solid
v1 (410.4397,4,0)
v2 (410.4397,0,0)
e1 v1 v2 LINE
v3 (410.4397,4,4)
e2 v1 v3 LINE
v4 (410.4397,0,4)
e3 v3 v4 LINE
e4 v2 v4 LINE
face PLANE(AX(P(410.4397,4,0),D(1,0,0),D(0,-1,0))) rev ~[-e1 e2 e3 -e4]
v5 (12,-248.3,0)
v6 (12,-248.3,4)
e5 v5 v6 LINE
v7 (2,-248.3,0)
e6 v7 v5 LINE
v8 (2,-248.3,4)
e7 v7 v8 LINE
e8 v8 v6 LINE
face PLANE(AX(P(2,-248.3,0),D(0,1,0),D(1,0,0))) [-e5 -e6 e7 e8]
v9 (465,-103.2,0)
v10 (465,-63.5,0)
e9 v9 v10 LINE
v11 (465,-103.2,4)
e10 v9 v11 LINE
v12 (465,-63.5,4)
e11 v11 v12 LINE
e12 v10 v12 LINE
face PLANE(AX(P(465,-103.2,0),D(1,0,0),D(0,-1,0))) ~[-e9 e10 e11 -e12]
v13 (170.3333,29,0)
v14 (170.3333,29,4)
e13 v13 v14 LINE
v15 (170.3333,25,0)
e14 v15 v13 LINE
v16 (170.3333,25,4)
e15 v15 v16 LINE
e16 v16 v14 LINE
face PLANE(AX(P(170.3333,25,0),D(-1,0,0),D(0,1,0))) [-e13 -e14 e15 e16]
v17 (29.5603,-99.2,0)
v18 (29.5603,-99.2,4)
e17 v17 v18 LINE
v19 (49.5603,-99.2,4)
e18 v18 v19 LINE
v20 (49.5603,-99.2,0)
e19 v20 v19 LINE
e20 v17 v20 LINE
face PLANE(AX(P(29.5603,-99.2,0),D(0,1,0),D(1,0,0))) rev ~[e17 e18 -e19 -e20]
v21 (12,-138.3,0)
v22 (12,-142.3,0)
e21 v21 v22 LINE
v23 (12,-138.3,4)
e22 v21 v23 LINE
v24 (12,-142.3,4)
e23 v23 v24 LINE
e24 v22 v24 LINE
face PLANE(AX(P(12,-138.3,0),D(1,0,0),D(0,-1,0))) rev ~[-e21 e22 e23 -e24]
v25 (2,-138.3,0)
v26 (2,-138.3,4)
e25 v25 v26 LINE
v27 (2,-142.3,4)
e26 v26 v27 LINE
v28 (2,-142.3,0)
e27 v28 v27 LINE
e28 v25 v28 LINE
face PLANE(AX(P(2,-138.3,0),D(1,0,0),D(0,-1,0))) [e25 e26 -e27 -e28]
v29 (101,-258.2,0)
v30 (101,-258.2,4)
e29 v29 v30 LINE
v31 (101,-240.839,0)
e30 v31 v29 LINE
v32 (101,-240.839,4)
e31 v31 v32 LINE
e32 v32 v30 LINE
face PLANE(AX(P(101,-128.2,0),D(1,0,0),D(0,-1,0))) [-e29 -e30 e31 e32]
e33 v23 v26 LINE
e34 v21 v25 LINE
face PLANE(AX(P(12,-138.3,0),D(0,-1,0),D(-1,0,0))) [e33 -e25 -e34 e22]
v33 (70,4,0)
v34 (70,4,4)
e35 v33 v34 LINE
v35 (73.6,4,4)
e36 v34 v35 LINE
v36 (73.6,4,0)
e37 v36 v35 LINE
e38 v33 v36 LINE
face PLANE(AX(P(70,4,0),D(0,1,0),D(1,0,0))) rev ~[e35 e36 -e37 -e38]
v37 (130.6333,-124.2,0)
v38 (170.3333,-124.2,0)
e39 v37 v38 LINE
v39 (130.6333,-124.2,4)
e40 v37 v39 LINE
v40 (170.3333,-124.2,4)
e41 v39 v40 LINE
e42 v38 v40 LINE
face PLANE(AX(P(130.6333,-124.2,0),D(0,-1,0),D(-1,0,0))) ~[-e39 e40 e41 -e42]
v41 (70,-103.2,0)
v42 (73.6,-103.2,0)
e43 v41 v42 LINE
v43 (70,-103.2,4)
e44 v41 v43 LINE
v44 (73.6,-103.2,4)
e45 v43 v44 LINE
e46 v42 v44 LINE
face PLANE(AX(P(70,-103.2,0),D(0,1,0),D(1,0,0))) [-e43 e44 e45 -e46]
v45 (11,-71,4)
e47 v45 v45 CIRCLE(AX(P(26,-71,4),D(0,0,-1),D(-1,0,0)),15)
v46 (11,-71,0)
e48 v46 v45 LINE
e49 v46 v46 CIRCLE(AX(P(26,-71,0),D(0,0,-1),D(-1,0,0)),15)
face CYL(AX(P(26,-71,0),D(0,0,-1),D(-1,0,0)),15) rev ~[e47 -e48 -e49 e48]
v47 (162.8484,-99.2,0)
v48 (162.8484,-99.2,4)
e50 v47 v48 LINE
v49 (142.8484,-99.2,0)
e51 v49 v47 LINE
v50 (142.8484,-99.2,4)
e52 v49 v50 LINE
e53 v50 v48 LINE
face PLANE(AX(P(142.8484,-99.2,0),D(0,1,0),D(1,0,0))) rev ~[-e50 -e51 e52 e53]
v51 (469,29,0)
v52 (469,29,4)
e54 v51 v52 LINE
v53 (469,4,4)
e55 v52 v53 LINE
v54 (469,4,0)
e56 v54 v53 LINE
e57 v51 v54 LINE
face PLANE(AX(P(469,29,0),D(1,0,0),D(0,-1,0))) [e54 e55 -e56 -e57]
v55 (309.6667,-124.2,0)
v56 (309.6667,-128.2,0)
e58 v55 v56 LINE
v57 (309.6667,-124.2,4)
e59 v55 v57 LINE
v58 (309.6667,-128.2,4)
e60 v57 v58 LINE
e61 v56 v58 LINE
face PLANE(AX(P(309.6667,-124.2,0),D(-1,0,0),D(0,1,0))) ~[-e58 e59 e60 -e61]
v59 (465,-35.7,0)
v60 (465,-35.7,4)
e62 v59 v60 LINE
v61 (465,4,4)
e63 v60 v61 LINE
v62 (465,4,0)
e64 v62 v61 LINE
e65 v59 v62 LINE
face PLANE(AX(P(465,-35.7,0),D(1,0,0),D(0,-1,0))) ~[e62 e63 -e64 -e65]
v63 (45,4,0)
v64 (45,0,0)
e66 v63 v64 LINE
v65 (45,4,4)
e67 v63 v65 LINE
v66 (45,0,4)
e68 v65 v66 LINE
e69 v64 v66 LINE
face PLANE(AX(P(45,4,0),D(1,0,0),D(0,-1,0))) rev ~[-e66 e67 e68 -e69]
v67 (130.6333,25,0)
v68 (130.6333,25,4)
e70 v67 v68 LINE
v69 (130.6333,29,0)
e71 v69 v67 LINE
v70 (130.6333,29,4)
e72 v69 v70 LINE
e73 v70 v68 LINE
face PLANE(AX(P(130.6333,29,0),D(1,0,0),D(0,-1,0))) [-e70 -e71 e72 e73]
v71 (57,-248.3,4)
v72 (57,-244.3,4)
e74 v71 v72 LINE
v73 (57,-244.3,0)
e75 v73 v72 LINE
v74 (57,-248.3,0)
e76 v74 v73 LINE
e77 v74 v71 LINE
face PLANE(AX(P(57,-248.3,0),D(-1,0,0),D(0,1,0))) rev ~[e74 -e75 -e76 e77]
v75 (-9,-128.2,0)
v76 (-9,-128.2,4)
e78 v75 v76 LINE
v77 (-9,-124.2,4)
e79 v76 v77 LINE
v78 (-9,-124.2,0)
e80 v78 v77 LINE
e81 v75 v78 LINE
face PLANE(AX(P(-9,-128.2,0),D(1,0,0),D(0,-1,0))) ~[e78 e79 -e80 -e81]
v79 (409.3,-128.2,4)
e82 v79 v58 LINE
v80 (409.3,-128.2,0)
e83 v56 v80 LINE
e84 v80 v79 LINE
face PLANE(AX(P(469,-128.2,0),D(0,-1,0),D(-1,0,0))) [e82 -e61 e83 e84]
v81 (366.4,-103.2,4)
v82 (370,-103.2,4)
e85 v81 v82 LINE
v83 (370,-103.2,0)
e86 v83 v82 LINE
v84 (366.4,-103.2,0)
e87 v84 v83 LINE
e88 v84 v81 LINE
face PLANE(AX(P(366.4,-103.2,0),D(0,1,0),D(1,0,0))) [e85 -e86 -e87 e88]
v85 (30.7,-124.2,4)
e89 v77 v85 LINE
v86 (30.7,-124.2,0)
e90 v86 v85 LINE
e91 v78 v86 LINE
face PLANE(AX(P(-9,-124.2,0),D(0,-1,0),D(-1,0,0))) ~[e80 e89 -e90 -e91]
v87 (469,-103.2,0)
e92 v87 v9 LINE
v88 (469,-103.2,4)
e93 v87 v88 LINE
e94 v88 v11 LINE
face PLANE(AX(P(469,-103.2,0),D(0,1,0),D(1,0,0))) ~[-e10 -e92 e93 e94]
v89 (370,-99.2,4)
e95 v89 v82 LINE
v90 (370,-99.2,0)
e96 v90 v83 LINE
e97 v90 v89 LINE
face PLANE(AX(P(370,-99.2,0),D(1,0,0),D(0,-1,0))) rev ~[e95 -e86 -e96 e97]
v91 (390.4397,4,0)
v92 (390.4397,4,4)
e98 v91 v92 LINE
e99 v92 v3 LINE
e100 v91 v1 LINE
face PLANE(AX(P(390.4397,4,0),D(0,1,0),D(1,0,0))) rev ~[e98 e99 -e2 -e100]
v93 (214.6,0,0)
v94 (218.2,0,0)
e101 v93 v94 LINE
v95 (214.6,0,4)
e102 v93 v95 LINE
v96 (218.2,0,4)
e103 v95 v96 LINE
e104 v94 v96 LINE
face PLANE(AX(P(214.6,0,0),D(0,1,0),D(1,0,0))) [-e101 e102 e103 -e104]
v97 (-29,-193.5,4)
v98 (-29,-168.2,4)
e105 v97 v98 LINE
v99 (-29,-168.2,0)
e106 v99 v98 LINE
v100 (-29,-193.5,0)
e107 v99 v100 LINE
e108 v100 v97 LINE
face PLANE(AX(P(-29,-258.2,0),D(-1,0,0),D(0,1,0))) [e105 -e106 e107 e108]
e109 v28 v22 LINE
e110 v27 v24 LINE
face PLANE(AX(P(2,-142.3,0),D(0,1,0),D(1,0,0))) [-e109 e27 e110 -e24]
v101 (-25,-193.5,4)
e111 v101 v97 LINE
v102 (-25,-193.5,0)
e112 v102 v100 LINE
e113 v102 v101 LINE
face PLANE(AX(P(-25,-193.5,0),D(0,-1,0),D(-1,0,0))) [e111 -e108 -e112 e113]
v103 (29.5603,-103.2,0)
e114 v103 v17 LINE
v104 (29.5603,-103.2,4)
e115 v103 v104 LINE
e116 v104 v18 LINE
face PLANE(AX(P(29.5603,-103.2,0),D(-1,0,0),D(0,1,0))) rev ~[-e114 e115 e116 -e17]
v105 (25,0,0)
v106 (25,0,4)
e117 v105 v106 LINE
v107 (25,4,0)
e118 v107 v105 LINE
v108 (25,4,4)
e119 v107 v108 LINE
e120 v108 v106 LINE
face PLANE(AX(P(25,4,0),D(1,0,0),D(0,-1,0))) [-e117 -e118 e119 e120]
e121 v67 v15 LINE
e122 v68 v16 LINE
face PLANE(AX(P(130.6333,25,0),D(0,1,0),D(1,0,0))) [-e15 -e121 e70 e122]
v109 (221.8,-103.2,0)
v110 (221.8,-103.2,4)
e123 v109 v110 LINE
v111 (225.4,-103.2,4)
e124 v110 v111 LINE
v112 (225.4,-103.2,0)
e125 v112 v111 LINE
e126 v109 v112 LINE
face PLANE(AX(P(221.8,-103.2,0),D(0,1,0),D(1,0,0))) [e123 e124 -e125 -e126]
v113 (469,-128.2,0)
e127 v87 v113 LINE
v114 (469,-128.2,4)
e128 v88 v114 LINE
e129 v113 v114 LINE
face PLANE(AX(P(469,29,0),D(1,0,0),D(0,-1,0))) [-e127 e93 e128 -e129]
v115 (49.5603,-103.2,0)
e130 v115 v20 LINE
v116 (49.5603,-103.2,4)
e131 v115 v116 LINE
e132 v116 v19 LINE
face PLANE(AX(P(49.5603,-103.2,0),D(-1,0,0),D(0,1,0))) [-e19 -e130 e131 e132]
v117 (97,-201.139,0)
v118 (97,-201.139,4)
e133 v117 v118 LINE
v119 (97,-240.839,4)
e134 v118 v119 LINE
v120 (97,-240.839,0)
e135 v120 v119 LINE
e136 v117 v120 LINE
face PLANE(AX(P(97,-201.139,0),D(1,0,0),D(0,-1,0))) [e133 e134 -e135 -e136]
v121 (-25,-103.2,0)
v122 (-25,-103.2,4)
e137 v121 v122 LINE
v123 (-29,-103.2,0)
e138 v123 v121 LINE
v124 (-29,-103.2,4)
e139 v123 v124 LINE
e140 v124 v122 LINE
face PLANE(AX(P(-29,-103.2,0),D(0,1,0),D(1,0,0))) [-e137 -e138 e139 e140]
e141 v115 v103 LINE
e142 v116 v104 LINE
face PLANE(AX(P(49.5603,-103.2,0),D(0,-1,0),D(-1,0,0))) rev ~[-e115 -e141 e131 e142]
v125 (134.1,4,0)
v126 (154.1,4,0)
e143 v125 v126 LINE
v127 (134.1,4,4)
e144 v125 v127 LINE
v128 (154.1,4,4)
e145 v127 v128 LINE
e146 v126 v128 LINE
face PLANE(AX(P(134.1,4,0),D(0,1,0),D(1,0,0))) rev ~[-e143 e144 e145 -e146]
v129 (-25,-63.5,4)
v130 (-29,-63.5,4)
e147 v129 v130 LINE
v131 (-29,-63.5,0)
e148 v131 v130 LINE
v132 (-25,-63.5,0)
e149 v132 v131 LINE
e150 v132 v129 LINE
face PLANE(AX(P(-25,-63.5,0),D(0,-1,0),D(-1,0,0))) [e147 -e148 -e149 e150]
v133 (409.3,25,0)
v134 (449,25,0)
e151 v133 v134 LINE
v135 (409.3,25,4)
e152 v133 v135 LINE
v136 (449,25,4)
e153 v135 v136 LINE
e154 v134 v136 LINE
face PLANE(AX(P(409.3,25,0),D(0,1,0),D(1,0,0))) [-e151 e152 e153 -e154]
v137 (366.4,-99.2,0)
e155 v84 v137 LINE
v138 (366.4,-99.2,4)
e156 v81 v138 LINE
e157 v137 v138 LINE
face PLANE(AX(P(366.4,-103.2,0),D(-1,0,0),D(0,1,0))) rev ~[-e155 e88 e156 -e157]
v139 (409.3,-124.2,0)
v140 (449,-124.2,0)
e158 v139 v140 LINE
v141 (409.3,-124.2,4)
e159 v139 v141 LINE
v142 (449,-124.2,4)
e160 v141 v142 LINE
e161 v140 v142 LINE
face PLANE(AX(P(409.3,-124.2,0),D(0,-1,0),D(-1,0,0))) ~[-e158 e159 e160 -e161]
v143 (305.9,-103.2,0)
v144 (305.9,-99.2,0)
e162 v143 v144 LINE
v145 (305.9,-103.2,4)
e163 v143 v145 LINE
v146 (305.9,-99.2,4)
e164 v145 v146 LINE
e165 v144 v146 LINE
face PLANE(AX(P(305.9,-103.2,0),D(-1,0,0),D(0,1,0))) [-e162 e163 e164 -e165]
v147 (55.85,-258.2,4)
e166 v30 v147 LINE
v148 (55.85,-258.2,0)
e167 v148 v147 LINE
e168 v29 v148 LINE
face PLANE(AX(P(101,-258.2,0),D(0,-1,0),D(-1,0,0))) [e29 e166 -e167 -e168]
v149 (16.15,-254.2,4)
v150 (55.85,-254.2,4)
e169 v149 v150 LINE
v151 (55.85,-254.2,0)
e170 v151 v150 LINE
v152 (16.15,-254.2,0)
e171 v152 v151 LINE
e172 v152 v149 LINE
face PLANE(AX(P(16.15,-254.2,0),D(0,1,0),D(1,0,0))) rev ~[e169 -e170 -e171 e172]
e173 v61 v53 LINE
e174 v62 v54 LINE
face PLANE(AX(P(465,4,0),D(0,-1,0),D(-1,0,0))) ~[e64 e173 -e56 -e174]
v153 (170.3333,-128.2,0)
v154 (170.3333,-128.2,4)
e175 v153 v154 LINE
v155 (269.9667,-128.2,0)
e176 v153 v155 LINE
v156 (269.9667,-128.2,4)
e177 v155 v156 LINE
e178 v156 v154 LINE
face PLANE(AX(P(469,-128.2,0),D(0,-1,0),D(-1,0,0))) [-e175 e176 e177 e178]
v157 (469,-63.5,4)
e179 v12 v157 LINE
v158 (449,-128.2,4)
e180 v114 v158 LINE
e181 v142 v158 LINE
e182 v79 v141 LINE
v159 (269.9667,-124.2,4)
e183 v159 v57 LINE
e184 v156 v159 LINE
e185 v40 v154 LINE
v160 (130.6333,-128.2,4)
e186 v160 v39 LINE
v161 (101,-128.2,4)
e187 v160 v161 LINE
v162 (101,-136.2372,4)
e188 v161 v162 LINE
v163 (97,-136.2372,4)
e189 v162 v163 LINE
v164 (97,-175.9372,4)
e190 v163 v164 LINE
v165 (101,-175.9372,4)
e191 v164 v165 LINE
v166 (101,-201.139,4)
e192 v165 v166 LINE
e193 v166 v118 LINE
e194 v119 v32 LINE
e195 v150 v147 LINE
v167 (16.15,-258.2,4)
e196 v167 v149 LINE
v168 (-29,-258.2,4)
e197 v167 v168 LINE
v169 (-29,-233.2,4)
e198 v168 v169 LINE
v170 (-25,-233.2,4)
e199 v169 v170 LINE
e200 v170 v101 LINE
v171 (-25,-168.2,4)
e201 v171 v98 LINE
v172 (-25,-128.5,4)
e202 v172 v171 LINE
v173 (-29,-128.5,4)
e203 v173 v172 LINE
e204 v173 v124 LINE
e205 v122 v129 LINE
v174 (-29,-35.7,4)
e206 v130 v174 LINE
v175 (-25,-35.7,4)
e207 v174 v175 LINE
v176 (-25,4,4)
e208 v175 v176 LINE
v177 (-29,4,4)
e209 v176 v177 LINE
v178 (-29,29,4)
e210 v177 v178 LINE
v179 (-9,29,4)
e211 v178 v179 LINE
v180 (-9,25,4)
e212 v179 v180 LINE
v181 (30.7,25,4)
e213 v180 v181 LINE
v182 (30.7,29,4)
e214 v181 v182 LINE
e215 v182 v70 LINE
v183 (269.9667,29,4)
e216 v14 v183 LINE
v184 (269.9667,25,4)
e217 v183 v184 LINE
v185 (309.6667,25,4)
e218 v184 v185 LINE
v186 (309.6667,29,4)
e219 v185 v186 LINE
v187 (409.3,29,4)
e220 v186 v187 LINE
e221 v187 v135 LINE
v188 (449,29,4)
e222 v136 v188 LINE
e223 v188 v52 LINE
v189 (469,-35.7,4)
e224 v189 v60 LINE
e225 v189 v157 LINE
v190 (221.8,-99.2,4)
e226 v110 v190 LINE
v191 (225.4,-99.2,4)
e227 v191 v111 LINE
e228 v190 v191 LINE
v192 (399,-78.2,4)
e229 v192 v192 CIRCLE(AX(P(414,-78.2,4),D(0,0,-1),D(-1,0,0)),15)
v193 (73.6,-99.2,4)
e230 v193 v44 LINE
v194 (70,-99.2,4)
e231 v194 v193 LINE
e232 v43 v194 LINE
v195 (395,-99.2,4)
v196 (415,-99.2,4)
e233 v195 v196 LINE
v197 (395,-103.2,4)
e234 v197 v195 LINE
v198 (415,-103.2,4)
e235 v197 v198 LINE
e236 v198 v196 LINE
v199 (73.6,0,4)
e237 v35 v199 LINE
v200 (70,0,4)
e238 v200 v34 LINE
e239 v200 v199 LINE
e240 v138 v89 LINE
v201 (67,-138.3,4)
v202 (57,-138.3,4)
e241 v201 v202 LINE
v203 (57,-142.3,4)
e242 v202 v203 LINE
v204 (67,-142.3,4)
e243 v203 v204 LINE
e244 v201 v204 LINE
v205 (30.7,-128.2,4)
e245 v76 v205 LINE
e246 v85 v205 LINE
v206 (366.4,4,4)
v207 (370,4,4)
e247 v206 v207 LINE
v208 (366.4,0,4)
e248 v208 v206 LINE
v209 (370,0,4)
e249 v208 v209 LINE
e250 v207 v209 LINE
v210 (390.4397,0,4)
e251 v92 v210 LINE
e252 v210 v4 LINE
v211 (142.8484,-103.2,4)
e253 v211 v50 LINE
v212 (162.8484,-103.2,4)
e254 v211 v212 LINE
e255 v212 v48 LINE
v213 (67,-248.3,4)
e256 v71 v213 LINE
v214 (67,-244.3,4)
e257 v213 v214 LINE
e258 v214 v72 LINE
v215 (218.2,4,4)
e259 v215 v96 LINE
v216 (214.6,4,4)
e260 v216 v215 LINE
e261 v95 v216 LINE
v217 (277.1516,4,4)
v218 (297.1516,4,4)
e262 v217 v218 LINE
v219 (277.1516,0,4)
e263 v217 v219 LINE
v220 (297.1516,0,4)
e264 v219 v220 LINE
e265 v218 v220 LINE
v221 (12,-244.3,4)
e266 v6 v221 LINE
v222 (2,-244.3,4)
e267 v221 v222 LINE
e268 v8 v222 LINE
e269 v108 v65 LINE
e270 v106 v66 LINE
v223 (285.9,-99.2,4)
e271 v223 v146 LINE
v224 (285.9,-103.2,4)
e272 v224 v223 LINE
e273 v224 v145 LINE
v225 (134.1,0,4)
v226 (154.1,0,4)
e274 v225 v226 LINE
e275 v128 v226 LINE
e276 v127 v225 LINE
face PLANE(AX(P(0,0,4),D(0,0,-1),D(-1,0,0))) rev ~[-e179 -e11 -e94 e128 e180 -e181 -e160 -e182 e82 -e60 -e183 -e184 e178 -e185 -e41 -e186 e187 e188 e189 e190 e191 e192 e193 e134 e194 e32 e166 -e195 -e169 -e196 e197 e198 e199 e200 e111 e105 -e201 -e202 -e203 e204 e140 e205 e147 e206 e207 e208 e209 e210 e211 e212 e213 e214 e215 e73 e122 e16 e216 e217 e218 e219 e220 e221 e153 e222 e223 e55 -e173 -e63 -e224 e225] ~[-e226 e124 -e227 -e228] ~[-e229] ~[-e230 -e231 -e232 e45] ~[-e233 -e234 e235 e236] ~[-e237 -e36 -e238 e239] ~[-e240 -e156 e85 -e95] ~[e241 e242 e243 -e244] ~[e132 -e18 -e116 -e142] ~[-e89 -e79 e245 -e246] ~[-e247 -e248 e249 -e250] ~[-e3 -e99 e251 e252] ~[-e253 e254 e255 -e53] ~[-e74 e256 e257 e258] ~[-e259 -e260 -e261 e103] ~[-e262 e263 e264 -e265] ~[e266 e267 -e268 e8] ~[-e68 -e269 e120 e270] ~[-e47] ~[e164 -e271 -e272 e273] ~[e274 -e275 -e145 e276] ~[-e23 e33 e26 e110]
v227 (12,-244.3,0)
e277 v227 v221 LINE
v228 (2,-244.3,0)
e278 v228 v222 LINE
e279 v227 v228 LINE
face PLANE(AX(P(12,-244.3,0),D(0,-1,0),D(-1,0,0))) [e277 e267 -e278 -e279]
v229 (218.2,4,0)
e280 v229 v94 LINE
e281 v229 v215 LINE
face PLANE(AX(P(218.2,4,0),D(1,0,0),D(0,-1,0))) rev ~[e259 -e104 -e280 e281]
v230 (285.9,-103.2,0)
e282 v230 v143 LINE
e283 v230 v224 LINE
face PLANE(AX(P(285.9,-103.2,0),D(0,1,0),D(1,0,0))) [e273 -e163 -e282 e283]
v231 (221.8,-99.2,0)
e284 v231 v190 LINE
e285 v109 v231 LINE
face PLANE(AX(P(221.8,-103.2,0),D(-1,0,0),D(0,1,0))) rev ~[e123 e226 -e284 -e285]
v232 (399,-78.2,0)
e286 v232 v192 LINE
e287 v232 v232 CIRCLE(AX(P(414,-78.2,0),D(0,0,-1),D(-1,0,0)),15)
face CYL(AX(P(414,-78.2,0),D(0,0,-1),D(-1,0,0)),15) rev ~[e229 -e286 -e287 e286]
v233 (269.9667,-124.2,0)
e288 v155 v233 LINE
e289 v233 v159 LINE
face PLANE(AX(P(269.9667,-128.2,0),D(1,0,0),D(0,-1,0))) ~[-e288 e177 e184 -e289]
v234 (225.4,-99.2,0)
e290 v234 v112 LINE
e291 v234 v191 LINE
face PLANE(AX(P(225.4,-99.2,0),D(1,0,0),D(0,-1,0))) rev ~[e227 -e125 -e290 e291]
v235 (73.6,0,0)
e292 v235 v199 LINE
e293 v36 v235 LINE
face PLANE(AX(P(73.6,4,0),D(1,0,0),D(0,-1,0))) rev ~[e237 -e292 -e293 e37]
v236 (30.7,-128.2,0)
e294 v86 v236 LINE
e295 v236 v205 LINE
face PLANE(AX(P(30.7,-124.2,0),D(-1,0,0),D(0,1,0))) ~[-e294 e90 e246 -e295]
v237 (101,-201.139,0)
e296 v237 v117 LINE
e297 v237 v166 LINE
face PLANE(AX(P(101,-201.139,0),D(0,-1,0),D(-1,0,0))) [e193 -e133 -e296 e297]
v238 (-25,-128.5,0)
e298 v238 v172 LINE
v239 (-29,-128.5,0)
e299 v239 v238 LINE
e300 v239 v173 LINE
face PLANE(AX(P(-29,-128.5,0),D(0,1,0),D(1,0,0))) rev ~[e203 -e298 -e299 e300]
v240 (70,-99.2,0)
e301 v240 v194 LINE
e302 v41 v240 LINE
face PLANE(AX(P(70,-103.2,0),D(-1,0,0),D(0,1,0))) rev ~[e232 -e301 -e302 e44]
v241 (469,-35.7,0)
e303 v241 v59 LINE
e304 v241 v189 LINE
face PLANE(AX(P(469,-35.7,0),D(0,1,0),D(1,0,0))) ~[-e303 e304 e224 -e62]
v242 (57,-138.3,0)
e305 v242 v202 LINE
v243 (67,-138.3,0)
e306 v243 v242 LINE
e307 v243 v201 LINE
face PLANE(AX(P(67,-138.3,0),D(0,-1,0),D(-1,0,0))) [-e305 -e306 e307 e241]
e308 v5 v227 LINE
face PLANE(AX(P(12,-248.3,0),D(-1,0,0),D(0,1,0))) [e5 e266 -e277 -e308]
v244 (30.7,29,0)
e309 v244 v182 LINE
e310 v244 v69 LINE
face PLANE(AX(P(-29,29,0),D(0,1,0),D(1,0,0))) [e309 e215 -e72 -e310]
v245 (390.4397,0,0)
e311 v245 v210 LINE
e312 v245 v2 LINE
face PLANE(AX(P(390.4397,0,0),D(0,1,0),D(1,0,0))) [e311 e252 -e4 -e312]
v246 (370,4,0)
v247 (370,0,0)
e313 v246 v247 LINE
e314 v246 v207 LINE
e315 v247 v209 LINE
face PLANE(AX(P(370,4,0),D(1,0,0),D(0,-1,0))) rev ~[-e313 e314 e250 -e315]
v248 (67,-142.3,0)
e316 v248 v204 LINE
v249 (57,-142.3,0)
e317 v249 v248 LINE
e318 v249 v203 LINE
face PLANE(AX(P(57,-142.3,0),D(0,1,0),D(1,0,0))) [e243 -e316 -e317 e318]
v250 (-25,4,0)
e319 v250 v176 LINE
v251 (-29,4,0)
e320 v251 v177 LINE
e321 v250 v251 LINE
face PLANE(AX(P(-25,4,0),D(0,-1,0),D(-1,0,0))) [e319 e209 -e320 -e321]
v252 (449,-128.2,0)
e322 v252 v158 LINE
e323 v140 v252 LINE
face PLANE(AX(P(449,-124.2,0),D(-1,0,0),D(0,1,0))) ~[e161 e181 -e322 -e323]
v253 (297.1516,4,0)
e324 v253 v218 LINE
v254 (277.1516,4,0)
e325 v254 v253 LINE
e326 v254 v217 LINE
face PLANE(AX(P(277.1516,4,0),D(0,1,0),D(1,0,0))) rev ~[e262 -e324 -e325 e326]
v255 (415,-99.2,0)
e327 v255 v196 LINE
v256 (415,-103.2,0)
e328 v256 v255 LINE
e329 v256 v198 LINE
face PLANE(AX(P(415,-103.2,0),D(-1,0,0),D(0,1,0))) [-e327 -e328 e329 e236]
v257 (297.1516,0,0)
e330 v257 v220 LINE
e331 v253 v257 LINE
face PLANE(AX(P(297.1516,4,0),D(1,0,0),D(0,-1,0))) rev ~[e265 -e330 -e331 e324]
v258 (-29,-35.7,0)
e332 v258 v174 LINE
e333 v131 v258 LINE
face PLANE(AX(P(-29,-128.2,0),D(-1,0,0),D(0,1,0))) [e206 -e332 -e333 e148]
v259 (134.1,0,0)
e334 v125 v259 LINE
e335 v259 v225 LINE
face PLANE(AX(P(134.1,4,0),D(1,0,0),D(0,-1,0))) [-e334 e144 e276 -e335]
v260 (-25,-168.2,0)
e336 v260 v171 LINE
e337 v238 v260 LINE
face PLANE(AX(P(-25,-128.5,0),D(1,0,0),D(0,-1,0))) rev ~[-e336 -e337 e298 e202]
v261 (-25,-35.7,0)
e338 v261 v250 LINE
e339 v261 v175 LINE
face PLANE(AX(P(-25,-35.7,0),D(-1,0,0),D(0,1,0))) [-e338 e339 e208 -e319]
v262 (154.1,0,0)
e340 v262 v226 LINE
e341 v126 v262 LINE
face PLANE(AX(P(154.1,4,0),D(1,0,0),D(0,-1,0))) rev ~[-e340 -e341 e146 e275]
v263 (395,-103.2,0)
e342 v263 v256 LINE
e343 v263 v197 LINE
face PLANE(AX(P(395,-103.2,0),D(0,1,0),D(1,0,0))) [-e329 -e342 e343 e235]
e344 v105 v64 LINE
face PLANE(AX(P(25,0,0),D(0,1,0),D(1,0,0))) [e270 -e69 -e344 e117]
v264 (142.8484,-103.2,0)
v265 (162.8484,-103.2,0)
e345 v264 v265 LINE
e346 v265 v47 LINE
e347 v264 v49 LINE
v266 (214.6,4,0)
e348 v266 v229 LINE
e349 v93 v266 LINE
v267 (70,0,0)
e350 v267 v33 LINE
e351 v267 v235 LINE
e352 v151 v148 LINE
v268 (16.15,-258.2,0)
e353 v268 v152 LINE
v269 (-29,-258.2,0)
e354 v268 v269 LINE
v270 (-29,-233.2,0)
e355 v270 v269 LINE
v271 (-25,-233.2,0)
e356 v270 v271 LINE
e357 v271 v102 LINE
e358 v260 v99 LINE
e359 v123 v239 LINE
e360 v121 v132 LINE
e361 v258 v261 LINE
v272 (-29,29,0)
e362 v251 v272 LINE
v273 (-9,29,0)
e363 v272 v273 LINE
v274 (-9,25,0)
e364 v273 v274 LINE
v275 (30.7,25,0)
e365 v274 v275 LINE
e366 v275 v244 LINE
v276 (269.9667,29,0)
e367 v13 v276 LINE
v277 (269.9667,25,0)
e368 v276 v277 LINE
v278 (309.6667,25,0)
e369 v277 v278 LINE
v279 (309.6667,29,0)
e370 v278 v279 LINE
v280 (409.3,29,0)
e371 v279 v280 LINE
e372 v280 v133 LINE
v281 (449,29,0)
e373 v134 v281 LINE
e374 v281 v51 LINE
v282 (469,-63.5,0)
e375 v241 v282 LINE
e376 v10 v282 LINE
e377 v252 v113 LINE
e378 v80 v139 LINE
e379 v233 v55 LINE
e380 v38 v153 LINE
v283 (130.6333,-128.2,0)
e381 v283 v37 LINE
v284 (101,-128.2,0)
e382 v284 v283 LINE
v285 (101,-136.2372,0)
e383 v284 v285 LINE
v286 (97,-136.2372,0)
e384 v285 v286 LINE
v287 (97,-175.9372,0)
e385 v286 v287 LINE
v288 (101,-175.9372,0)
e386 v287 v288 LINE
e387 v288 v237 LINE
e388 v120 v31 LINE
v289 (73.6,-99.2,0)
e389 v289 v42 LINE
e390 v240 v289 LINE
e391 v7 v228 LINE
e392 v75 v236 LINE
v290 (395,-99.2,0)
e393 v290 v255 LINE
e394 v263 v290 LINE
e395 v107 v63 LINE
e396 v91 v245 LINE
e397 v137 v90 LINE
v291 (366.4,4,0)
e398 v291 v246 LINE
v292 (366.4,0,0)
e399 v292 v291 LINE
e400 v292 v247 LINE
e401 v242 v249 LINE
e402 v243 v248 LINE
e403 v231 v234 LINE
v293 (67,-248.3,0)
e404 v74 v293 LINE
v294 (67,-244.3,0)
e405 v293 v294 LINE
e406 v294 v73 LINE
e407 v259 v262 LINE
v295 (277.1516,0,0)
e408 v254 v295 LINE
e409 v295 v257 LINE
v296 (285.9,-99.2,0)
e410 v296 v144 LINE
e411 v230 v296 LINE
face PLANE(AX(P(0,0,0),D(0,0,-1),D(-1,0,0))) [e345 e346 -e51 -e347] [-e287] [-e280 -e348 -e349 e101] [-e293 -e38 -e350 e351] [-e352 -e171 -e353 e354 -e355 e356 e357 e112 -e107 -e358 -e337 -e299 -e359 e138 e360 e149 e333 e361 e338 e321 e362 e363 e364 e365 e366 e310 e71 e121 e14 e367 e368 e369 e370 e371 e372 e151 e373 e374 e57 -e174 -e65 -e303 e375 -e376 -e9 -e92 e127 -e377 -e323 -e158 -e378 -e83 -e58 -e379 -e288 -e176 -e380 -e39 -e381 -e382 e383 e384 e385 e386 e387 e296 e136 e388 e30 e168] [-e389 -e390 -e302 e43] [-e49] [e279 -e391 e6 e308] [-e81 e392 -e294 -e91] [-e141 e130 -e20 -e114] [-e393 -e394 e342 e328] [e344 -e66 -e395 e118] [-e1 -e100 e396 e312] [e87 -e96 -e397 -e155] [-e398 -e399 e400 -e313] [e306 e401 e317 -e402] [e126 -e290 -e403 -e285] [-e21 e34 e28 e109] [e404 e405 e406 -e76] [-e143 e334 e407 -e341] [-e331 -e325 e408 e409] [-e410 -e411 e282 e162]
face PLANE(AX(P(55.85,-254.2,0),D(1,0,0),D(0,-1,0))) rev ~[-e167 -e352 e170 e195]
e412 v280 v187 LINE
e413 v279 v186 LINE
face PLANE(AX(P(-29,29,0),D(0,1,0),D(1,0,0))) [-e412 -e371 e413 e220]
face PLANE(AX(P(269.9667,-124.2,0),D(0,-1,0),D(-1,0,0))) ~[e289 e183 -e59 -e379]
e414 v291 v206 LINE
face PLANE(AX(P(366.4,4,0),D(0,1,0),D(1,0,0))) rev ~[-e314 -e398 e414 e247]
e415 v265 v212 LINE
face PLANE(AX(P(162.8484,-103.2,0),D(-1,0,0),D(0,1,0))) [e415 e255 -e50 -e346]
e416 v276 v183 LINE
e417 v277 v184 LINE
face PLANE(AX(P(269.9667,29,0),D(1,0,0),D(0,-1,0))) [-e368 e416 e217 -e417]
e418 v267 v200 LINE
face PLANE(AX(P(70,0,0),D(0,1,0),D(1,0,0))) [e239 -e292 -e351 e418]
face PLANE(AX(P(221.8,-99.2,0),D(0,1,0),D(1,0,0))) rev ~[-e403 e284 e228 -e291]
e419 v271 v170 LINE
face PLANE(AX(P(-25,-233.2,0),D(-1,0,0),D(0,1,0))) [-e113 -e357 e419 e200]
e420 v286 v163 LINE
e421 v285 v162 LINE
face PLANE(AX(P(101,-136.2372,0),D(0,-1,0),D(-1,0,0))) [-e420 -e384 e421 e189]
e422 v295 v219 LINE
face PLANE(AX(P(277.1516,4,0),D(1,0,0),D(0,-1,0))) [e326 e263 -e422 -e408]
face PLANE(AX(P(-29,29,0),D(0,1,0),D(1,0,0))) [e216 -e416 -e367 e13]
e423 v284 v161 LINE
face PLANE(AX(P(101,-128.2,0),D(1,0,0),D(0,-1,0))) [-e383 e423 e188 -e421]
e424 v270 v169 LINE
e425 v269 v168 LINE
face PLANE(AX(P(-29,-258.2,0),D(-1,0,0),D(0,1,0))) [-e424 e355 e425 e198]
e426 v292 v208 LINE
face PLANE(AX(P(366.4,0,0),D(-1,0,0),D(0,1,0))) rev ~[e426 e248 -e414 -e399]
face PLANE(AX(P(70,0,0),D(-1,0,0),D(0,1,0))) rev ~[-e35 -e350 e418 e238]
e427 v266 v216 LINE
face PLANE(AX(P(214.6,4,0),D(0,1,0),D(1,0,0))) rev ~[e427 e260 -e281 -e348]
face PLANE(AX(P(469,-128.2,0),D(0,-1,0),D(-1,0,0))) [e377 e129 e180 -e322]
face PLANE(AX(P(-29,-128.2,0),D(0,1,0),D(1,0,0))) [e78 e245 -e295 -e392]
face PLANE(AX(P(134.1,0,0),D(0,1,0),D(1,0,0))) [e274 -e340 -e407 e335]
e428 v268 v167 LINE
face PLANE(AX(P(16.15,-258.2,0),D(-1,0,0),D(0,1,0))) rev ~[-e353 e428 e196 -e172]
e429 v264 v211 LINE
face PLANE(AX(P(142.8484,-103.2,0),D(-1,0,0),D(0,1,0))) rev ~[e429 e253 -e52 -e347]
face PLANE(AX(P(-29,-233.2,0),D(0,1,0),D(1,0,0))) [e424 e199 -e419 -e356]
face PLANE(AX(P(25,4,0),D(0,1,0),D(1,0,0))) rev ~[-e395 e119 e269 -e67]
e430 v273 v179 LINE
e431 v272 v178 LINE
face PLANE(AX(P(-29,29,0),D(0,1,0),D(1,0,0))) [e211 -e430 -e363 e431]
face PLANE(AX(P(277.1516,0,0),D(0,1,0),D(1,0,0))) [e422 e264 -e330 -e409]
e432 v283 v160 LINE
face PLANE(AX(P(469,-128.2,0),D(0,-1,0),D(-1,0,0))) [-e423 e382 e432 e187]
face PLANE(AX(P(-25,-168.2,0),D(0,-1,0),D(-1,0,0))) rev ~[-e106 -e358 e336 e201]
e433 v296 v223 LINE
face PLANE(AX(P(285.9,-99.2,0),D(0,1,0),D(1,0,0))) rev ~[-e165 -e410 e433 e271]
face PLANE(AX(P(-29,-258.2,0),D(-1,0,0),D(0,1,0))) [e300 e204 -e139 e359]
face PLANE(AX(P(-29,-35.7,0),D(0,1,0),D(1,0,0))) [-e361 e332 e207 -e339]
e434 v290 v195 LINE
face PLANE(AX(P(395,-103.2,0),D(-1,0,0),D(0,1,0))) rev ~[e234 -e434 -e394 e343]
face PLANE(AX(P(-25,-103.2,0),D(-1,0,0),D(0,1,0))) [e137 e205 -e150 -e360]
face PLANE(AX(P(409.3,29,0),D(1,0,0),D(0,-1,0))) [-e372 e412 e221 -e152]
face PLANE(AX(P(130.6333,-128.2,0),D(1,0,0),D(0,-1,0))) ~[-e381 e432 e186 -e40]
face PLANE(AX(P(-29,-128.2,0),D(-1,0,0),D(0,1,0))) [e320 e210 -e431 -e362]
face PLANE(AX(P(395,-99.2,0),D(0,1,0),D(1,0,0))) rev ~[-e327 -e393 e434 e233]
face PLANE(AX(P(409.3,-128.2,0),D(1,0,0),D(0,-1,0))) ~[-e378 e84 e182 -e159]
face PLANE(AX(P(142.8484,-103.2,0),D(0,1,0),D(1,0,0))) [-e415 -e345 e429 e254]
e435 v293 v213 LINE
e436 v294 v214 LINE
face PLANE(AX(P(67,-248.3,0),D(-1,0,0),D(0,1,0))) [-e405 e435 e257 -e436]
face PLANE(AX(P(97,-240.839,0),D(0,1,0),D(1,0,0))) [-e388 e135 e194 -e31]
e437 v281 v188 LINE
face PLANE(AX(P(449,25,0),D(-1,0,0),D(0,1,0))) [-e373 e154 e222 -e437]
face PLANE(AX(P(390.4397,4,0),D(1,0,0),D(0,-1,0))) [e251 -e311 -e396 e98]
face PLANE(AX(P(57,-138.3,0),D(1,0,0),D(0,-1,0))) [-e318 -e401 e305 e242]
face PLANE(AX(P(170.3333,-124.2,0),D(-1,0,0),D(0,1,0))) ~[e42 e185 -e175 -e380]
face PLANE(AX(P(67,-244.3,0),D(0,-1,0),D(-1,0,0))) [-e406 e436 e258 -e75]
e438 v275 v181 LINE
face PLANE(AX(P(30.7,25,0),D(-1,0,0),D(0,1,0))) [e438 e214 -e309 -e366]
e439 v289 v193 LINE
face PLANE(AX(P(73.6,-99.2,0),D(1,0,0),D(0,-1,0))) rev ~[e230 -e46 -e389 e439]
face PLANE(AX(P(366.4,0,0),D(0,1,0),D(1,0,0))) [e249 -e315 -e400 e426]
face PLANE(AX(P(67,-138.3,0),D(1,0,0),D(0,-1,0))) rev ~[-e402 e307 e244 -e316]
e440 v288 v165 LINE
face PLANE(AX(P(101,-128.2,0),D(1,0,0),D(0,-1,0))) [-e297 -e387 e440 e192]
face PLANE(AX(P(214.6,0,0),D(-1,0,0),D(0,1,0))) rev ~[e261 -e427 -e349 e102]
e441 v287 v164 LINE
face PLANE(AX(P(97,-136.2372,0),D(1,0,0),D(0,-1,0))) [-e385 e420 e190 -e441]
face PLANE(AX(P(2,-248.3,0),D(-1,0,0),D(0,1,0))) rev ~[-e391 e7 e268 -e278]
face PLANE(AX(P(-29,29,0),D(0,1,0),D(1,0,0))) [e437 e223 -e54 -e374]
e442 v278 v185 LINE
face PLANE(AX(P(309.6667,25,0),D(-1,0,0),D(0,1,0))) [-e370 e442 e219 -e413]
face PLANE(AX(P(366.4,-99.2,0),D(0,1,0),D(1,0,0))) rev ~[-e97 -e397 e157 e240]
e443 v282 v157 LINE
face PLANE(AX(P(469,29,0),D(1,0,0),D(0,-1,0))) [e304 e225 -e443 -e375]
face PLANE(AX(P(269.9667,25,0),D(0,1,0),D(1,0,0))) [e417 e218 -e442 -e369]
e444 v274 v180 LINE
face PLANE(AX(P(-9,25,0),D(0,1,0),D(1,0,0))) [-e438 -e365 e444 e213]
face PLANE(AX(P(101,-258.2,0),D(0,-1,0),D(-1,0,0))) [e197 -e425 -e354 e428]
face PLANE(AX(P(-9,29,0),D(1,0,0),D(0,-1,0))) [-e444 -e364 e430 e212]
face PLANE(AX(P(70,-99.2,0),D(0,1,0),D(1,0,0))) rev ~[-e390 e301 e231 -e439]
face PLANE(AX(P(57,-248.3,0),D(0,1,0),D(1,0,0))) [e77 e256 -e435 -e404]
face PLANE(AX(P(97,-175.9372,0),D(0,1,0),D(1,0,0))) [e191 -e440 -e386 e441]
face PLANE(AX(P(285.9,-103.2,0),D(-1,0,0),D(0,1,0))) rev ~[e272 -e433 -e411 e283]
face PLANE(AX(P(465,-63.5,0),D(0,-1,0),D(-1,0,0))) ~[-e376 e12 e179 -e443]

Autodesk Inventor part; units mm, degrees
ref_plane "YZ Plane" through (0, 0, 0) normal (1, 0, 0) x (0, 1, 0)
sketch "Sketch1" plane through (0, 0, 0) normal (0, 0, 1) x (1, 0, 0)
  line L0 (29.5603, -99.2) -> (49.5603, -99.2)
  line L1 (49.5603, -103.2) -> (49.5603, -99.2)
  line L2 (29.5603, -103.2) -> (29.5603, -99.2)
  line L3 (70, -103.2) -> (70, -99.2)
  line L4 (73.6, -99.2) -> (73.6, -103.2)
  line L5 (25, 4) -> (25, 0)
  line L6 (45, 4) -> (45, 0)
  line L7 (70, 0) -> (70, 4)
  line L8 (73.6, 4) -> (73.6, 0)
  line L9 (134.1, 4) -> (134.1, 0)
  line L10 (154.1, 4) -> (154.1, 0)
  line L11 (214.6, 0) -> (214.6, 4)
  line L12 (218.2, 4) -> (218.2, 0)
  line L13 (277.1516, 4) -> (277.1516, 0)
  line L14 (297.1516, 4) -> (297.1516, 0)
  line L15 (366.4, 0) -> (366.4, 4)
  line L16 (370, 4) -> (370, 0)
  line L17 (390.4397, 4) -> (390.4397, 0)
  line L18 (410.4397, 4) -> (410.4397, 0)
  line L19 (395, -103.2) -> (395, -99.2)
  line L20 (415, -103.2) -> (415, -99.2)
  line L21 (370, -99.2) -> (370, -103.2)
  line L22 (366.4, -103.2) -> (366.4, -99.2)
  line L23 (305.9, -103.2) -> (305.9, -99.2)
  line L24 (285.9, -103.2) -> (285.9, -99.2)
  line L25 (221.8, -103.2) -> (221.8, -99.2)
  line L26 (225.4, -99.2) -> (225.4, -103.2)
  line L27 (162.8484, -103.2) -> (162.8484, -99.2)
  line L28 (142.8484, -103.2) -> (142.8484, -99.2)
  line L29 (25, 0) -> (45, 0)
  line L30 (70, 0) -> (73.6, 0)
  line L31 (134.1, 0) -> (154.1, 0)
  line L32 (214.6, 0) -> (218.2, 0)
  line L33 (277.1516, 0) -> (297.1516, 0)
  line L34 (366.4, 0) -> (370, 0)
  line L35 (390.4397, 0) -> (410.4397, 0)
  line L36 (49.5603, -103.2) -> (29.5603, -103.2)
  line L37 (70, -99.2) -> (73.6, -99.2)
  line L38 (70, -103.2) -> (73.6, -103.2)
  line L39 (142.8484, -99.2) -> (162.8484, -99.2)
  line L40 (142.8484, -103.2) -> (162.8484, -103.2)
  line L41 (221.8, -99.2) -> (225.4, -99.2)
  line L42 (221.8, -103.2) -> (225.4, -103.2)
  line L43 (285.9, -99.2) -> (305.9, -99.2)
  line L44 (285.9, -103.2) -> (305.9, -103.2)
  line L45 (366.4, -99.2) -> (370, -99.2)
  line L46 (366.4, -103.2) -> (370, -103.2)
  line L47 (395, -99.2) -> (415, -99.2)
  line L48 (395, -103.2) -> (415, -103.2)
  line L49 (469, 29) -> (469, -128.2)
  line L50 (469, -128.2) -> (49.5603, -128.2)
  line L51 (49.5603, -128.2) -> (-29, -128.2)
  line L52 (-29, -128.2) -> (-29, 29)
  line L53 (-29, 29) -> (469, 29)
  line L54 (25, 4) -> (45, 4)
  line L55 (70, 4) -> (73.6, 4)
  line L56 (70, -103.2) -> (73.6, -103.2)
  line L57 (142.8484, -103.2) -> (162.8484, -103.2)
  line L58 (221.8, -103.2) -> (225.4, -103.2)
  line L59 (285.9, -103.2) -> (305.9, -103.2)
  line L60 (366.4, -103.2) -> (370, -103.2)
  line L61 (395, -103.2) -> (415, -103.2)
  line L62 (390.4397, 4) -> (410.4397, 4)
  line L63 (366.4, 4) -> (370, 4)
  line L64 (277.1516, 4) -> (297.1516, 4)
  line L65 (134.1, 4) -> (154.1, 4)
  line L66 (214.6, 4) -> (218.2, 4)
  point P0 (0, 0)
extrude "Extrusion1" add sketch "Sketch1" along normal blind 4
sketch "Sketch2" plane through (0, 0, 0) normal (0, 0, -1) x (-1, 0, 0)
  line L0 (-162.8484, -99.2) -> (-142.8484, -99.2)
  line L1 (-142.8484, -99.2) -> (-142.8484, -103.2)
  line L2 (-142.8484, -103.2) -> (-162.8484, -103.2)
  line L3 (-162.8484, -103.2) -> (-162.8484, -99.2)
  line L4 (-154.1, 4) -> (-134.1, 4)
  line L5 (-134.1, 4) -> (-134.1, 0)
  line L6 (-134.1, 0) -> (-154.1, 0)
  line L7 (-154.1, 0) -> (-154.1, 4)
  line L8 (-285.9, -103.2) -> (-305.9, -103.2)
  line L9 (-305.9, -103.2) -> (-305.9, -99.2)
  line L10 (-305.9, -99.2) -> (-285.9, -99.2)
  line L11 (-285.9, -99.2) -> (-285.9, -103.2)
  line L12 (-297.1516, 4) -> (-277.1516, 4)
  line L13 (-277.1516, 4) -> (-277.1516, 0)
  line L14 (-277.1516, 0) -> (-297.1516, 0)
  line L15 (-297.1516, 0) -> (-297.1516, 4)
  line L16 (-395, -99.2) -> (-395, -103.2)
  line L17 (-395, -103.2) -> (-415, -103.2)
  line L18 (-415, -103.2) -> (-415, -99.2)
  line L19 (-415, -99.2) -> (-395, -99.2)
  line L20 (-410.4397, 4) -> (-390.4397, 4)
  line L21 (-390.4397, 4) -> (-390.4397, 0)
  line L22 (-390.4397, 0) -> (-410.4397, 0)
  line L23 (-410.4397, 0) -> (-410.4397, 4)
  line L24 (-25, 0) -> (-45, 0)
  line L25 (-45, 0) -> (-45, 4)
  line L26 (-45, 4) -> (-25, 4)
  line L27 (-25, 4) -> (-25, 0)
  line L28 (-49.5603, -103.2) -> (-49.5603, -99.2)
  line L29 (-49.5603, -99.2) -> (-29.5603, -99.2)
  line L30 (-29.5603, -99.2) -> (-29.5603, -103.2)
  line L31 (-29.5603, -103.2) -> (-49.5603, -103.2)
  line L32 (-221.8, -103.2) -> (-225.4, -103.2)
  line L33 (-225.4, -103.2) -> (-225.4, -99.2)
  line L34 (-225.4, -99.2) -> (-221.8, -99.2)
  line L35 (-221.8, -99.2) -> (-221.8, -103.2)
  line L36 (-370, -103.2) -> (-370, -99.2)
  line L37 (-370, -99.2) -> (-366.4, -99.2)
  line L38 (-366.4, -99.2) -> (-366.4, -103.2)
  line L39 (-366.4, -103.2) -> (-370, -103.2)
  line L40 (-218.2, 4) -> (-214.6, 4)
  line L41 (-214.6, 4) -> (-214.6, 0)
  line L42 (-214.6, 0) -> (-218.2, 0)
  line L43 (-218.2, 0) -> (-218.2, 4)
  line L44 (-370, 4) -> (-366.4, 4)
  line L45 (-366.4, 4) -> (-366.4, 0)
  line L46 (-366.4, 0) -> (-370, 0)
  line L47 (-370, 0) -> (-370, 4)
  line L48 (-70, 0) -> (-73.6, 0)
  line L49 (-73.6, 0) -> (-73.6, 4)
  line L50 (-73.6, 4) -> (-70, 4)
  line L51 (-70, 4) -> (-70, 0)
  line L52 (-73.6, -103.2) -> (-73.6, -99.2)
  line L53 (-73.6, -99.2) -> (-70, -99.2)
  line L54 (-70, -99.2) -> (-70, -103.2)
  line L55 (-70, -103.2) -> (-73.6, -103.2)
  line L56 (-469, 29) -> (-469, -128.2)
  line L57 (-469, -128.2) -> (29, -128.2)
  line L58 (29, -128.2) -> (29, 29)
  line L59 (29, 29) -> (-469, 29)
  line L60 (29, 29) -> (-469, 29)
  line L61 (9, 25) -> (-30.7, 25)
  line L62 (-30.7, 25) -> (-30.7, 29)
  line L63 (-30.7, 29) -> (9, 29)
  line L64 (9, 29) -> (9, 25)
  line L65 (-130.6333, 25) -> (-170.3333, 25)
  line L66 (-170.3333, 25) -> (-170.3333, 29)
  line L67 (-170.3333, 29) -> (-130.6333, 29)
  line L68 (-130.6333, 29) -> (-130.6333, 25)
  line L69 (-269.9667, 25) -> (-309.6667, 25)
  line L70 (-309.6667, 25) -> (-309.6667, 29)
  line L71 (-309.6667, 29) -> (-269.9667, 29)
  line L72 (-269.9667, 29) -> (-269.9667, 25)
  line L73 (-409.3, 25) -> (-449, 25)
  line L74 (-449, 25) -> (-449, 29)
  line L75 (-449, 29) -> (-409.3, 29)
  line L76 (-409.3, 29) -> (-409.3, 25)
  point P0 (0, 0)
  point P1 (9, 21)
  dimension "d3" = 39.7
  dimension "d4" = 4
  dimension "d5" = 39.7
  dimension "d6" = 4
  dimension "d7" = 39.7
  dimension "d8" = 39.7
  dimension "d9" = 4
  dimension "d10" = 20
  dimension "d11" = 20
  dimension "d12" = 378.6
extrude "Extrusion2" cut sketch "Sketch2" against normal blind 4 contours L59 L76 L73 L74 | L59 L72 L69 L70 | L64 L61 L62 L59 | L59 L68 L65 L66
ref_plane "Work Plane1" through (-29, -49.6, 0) normal (0, -1, 0) x (1, 0, 0)
mirror "Mirror1" about plane through (-29, -49.6, 0) normal (0, -1, 0) of "Extrusion2"
sketch "Sketch3" plane through (0, 0, 0) normal (0, 0, -1) x (-1, 0, 0)
  line L0 (-73.6, -103.2) -> (-73.6, -99.2)
  line L1 (-73.6, -99.2) -> (-70, -99.2)
  line L2 (-70, -99.2) -> (-70, -103.2)
  line L3 (-70, -103.2) -> (-73.6, -103.2)
  line L4 (-70, 0) -> (-73.6, 0)
  line L5 (-73.6, 0) -> (-73.6, 4)
  line L6 (-73.6, 4) -> (-70, 4)
  line L7 (-70, 4) -> (-70, 0)
  line L8 (-370, 4) -> (-366.4, 4)
  line L9 (-366.4, 4) -> (-366.4, 0)
  line L10 (-366.4, 0) -> (-370, 0)
  line L11 (-370, 0) -> (-370, 4)
  line L12 (-218.2, 4) -> (-214.6, 4)
  line L13 (-214.6, 4) -> (-214.6, 0)
  line L14 (-214.6, 0) -> (-218.2, 0)
  line L15 (-218.2, 0) -> (-218.2, 4)
  line L16 (-370, -103.2) -> (-370, -99.2)
  line L17 (-370, -99.2) -> (-366.4, -99.2)
  line L18 (-366.4, -99.2) -> (-366.4, -103.2)
  line L19 (-366.4, -103.2) -> (-370, -103.2)
  line L20 (-221.8, -103.2) -> (-225.4, -103.2)
  line L21 (-225.4, -103.2) -> (-225.4, -99.2)
  line L22 (-225.4, -99.2) -> (-221.8, -99.2)
  line L23 (-221.8, -99.2) -> (-221.8, -103.2)
  line L24 (-49.5603, -103.2) -> (-49.5603, -99.2)
  line L25 (-49.5603, -99.2) -> (-29.5603, -99.2)
  line L26 (-29.5603, -99.2) -> (-29.5603, -103.2)
  line L27 (-29.5603, -103.2) -> (-49.5603, -103.2)
  line L28 (-25, 0) -> (-45, 0)
  line L29 (-45, 0) -> (-45, 4)
  line L30 (-45, 4) -> (-25, 4)
  line L31 (-25, 4) -> (-25, 0)
  line L32 (-410.4397, 4) -> (-390.4397, 4)
  line L33 (-390.4397, 4) -> (-390.4397, 0)
  line L34 (-390.4397, 0) -> (-410.4397, 0)
  line L35 (-410.4397, 0) -> (-410.4397, 4)
  line L36 (-395, -99.2) -> (-395, -103.2)
  line L37 (-395, -103.2) -> (-415, -103.2)
  line L38 (-415, -103.2) -> (-415, -99.2)
  line L39 (-415, -99.2) -> (-395, -99.2)
  line L40 (-297.1516, 4) -> (-277.1516, 4)
  line L41 (-277.1516, 4) -> (-277.1516, 0)
  line L42 (-277.1516, 0) -> (-297.1516, 0)
  line L43 (-297.1516, 0) -> (-297.1516, 4)
  line L44 (-285.9, -103.2) -> (-305.9, -103.2)
  line L45 (-305.9, -103.2) -> (-305.9, -99.2)
  line L46 (-305.9, -99.2) -> (-285.9, -99.2)
  line L47 (-285.9, -99.2) -> (-285.9, -103.2)
  line L48 (-154.1, 4) -> (-134.1, 4)
  line L49 (-134.1, 4) -> (-134.1, 0)
  line L50 (-134.1, 0) -> (-154.1, 0)
  line L51 (-154.1, 0) -> (-154.1, 4)
  line L52 (-162.8484, -99.2) -> (-142.8484, -99.2)
  line L53 (-142.8484, -99.2) -> (-142.8484, -103.2)
  line L54 (-142.8484, -103.2) -> (-162.8484, -103.2)
  line L55 (-162.8484, -103.2) -> (-162.8484, -99.2)
  line L56 (-309.6667, -128.2) -> (-309.6667, -124.2)
  line L57 (-309.6667, -124.2) -> (-269.9667, -124.2)
  line L58 (-269.9667, -124.2) -> (-269.9667, -128.2)
  line L59 (-269.9667, -128.2) -> (-170.3333, -128.2)
  line L60 (-170.3333, -128.2) -> (-170.3333, -124.2)
  line L61 (-170.3333, -124.2) -> (-130.6333, -124.2)
  line L62 (-130.6333, -124.2) -> (-130.6333, -128.2)
  line L63 (-130.6333, -128.2) -> (-30.7, -128.2)
  line L64 (-30.7, -128.2) -> (-30.7, -124.2)
  line L65 (-30.7, -124.2) -> (9, -124.2)
  line L66 (9, -124.2) -> (9, -128.2)
  line L67 (9, -128.2) -> (29, -128.2)
  line L68 (29, -128.2) -> (29, 29)
  line L69 (29, 29) -> (9, 29)
  line L70 (9, 29) -> (9, 25)
  line L71 (9, 25) -> (-30.7, 25)
  line L72 (-30.7, 25) -> (-30.7, 29)
  line L73 (-30.7, 29) -> (-130.6333, 29)
  line L74 (-130.6333, 29) -> (-130.6333, 25)
  line L75 (-130.6333, 25) -> (-170.3333, 25)
  line L76 (-170.3333, 25) -> (-170.3333, 29)
  line L77 (-170.3333, 29) -> (-269.9667, 29)
  line L78 (-269.9667, 29) -> (-269.9667, 25)
  line L79 (-269.9667, 25) -> (-309.6667, 25)
  line L80 (-309.6667, 25) -> (-309.6667, 29)
  line L81 (-309.6667, 29) -> (-409.3, 29)
  line L82 (-409.3, 29) -> (-409.3, 25)
  line L83 (-409.3, 25) -> (-449, 25)
  line L84 (-449, 25) -> (-449, 29)
  line L85 (-449, 29) -> (-469, 29)
  line L86 (-469, 29) -> (-469, -128.2)
  line L87 (-469, -128.2) -> (-449, -128.2)
  line L88 (-449, -128.2) -> (-449, -124.2)
  line L89 (-449, -124.2) -> (-409.3, -124.2)
  line L90 (-409.3, -124.2) -> (-409.3, -128.2)
  line L91 (-409.3, -128.2) -> (-309.6667, -128.2)
  line L92 (29, 29) -> (29, -128.2)
  line L93 (29, -103.2) -> (25, -103.2)
  line L94 (25, -103.2) -> (25, -63.5)
  line L95 (25, -63.5) -> (29, -63.5)
  line L96 (29, -63.5) -> (29, -103.2)
  line L97 (29, -35.7) -> (25, -35.7)
  line L98 (25, -35.7) -> (25, 4)
  line L99 (25, 4) -> (29, 4)
  line L100 (29, 4) -> (29, -35.7)
  point P0 (0, 0)
  dimension "d18" = 39.7
  dimension "d19" = 4
  dimension "d20" = 39.7
  dimension "d21" = 4
  dimension "d22" = 157.2
extrude "Extrusion3" cut sketch "Sketch3" against normal blind 4 contours L93 L94 L95 L68 | L97 L98 L99 L68
ref_plane "Work Plane2" through (220, -128.2, 0) normal (1, 0, 0) x (0, 0, -1)
mirror "Mirror2" about plane through (220, -128.2, 0) normal (1, 0, 0) of "Extrusion3"
sketch "Sketch7" plane through (0, 0, 0) normal (0, 0, -1) x (-1, 0, 0)
  line L0 (29, -128.2) -> (-101, -128.2)
  line L1 (-101, -128.2) -> (-101, -258.2)
  line L2 (-101, -258.2) -> (29, -258.2)
  line L3 (29, -258.2) -> (29, -128.2)
  point P0 (0, 0)
  dimension "d31" = 130
  dimension "d32" = 130
extrude "Extrusion5" add sketch "Sketch7" against normal blind 4
sketch "Sketch8" plane through (0, 0, 0) normal (0, 0, -1) x (-1, 0, 0)
  line L0 (-30.7, -128.2) -> (-30.7, -124.2)
  line L1 (-30.7, -124.2) -> (9, -124.2)
  line L2 (9, -124.2) -> (9, -128.2)
  line L3 (9, -128.2) -> (-30.7, -128.2)
  line L4 (-101, -128.2) -> (-101, -258.2)
  line L5 (-101, -258.2) -> (29, -258.2)
  line L6 (29, -258.2) -> (29, -103.2)
  line L7 (29, -103.2) -> (25, -103.2)
  line L8 (25, -103.2) -> (25, -63.5)
  line L9 (25, -63.5) -> (29, -63.5)
  line L10 (29, -63.5) -> (29, -35.7)
  line L11 (29, -35.7) -> (25, -35.7)
  line L12 (25, -35.7) -> (25, 4)
  line L13 (25, 4) -> (29, 4)
  line L14 (29, 4) -> (29, 29)
  line L15 (29, 29) -> (9, 29)
  line L16 (9, 29) -> (9, 25)
  line L17 (9, 25) -> (-30.7, 25)
  line L18 (-30.7, 25) -> (-30.7, 29)
  line L19 (-30.7, 29) -> (-130.6333, 29)
  line L20 (-130.6333, 29) -> (-130.6333, 25)
  line L21 (-130.6333, 25) -> (-170.3333, 25)
  line L22 (-170.3333, 25) -> (-170.3333, 29)
  line L23 (-170.3333, 29) -> (-269.9667, 29)
  line L24 (-269.9667, 29) -> (-269.9667, 25)
  line L25 (-269.9667, 25) -> (-309.6667, 25)
  line L26 (-309.6667, 25) -> (-309.6667, 29)
  line L27 (-309.6667, 29) -> (-409.3, 29)
  line L28 (-409.3, 29) -> (-409.3, 25)
  line L29 (-409.3, 25) -> (-449, 25)
  line L30 (-449, 25) -> (-449, 29)
  line L31 (-449, 29) -> (-469, 29)
  line L32 (-469, 29) -> (-469, 4)
  line L33 (-469, 4) -> (-465, 4)
  line L34 (-465, 4) -> (-465, -35.7)
  line L35 (-465, -35.7) -> (-469, -35.7)
  line L36 (-469, -35.7) -> (-469, -63.5)
  line L37 (-469, -63.5) -> (-465, -63.5)
  line L38 (-465, -63.5) -> (-465, -103.2)
  line L39 (-465, -103.2) -> (-469, -103.2)
  line L40 (-469, -103.2) -> (-469, -128.2)
  line L41 (-469, -128.2) -> (-449, -128.2)
  line L42 (-449, -128.2) -> (-449, -124.2)
  line L43 (-449, -124.2) -> (-409.3, -124.2)
  line L44 (-409.3, -124.2) -> (-409.3, -128.2)
  line L45 (-409.3, -128.2) -> (-309.6667, -128.2)
  line L46 (-309.6667, -128.2) -> (-309.6667, -124.2)
  line L47 (-309.6667, -124.2) -> (-269.9667, -124.2)
  line L48 (-269.9667, -124.2) -> (-269.9667, -128.2)
  line L49 (-269.9667, -128.2) -> (-170.3333, -128.2)
  line L50 (-170.3333, -128.2) -> (-170.3333, -124.2)
  line L51 (-170.3333, -124.2) -> (-130.6333, -124.2)
  line L52 (-130.6333, -124.2) -> (-130.6333, -128.2)
  line L53 (-130.6333, -128.2) -> (-101, -128.2)
  line L54 (-162.8484, -99.2) -> (-142.8484, -99.2)
  line L55 (-142.8484, -99.2) -> (-142.8484, -103.2)
  line L56 (-142.8484, -103.2) -> (-162.8484, -103.2)
  line L57 (-162.8484, -103.2) -> (-162.8484, -99.2)
  line L58 (-154.1, 4) -> (-134.1, 4)
  line L59 (-134.1, 4) -> (-134.1, 0)
  line L60 (-134.1, 0) -> (-154.1, 0)
  line L61 (-154.1, 0) -> (-154.1, 4)
  line L62 (-285.9, -103.2) -> (-305.9, -103.2)
  line L63 (-305.9, -103.2) -> (-305.9, -99.2)
  line L64 (-305.9, -99.2) -> (-285.9, -99.2)
  line L65 (-285.9, -99.2) -> (-285.9, -103.2)
  line L66 (-297.1516, 4) -> (-277.1516, 4)
  line L67 (-277.1516, 4) -> (-277.1516, 0)
  line L68 (-277.1516, 0) -> (-297.1516, 0)
  line L69 (-297.1516, 0) -> (-297.1516, 4)
  line L70 (-395, -99.2) -> (-395, -103.2)
  line L71 (-395, -103.2) -> (-415, -103.2)
  line L72 (-415, -103.2) -> (-415, -99.2)
  line L73 (-415, -99.2) -> (-395, -99.2)
  line L74 (-410.4397, 4) -> (-390.4397, 4)
  line L75 (-390.4397, 4) -> (-390.4397, 0)
  line L76 (-390.4397, 0) -> (-410.4397, 0)
  line L77 (-410.4397, 0) -> (-410.4397, 4)
  line L78 (-25, 0) -> (-45, 0)
  line L79 (-45, 0) -> (-45, 4)
  line L80 (-45, 4) -> (-25, 4)
  line L81 (-25, 4) -> (-25, 0)
  line L82 (-49.5603, -103.2) -> (-49.5603, -99.2)
  line L83 (-49.5603, -99.2) -> (-29.5603, -99.2)
  line L84 (-29.5603, -99.2) -> (-29.5603, -103.2)
  line L85 (-29.5603, -103.2) -> (-49.5603, -103.2)
  line L86 (-221.8, -103.2) -> (-225.4, -103.2)
  line L87 (-225.4, -103.2) -> (-225.4, -99.2)
  line L88 (-225.4, -99.2) -> (-221.8, -99.2)
  line L89 (-221.8, -99.2) -> (-221.8, -103.2)
  line L90 (-370, -103.2) -> (-370, -99.2)
  line L91 (-370, -99.2) -> (-366.4, -99.2)
  line L92 (-366.4, -99.2) -> (-366.4, -103.2)
  line L93 (-366.4, -103.2) -> (-370, -103.2)
  line L94 (-218.2, 4) -> (-214.6, 4)
  line L95 (-214.6, 4) -> (-214.6, 0)
  line L96 (-214.6, 0) -> (-218.2, 0)
  line L97 (-218.2, 0) -> (-218.2, 4)
  line L98 (-370, 4) -> (-366.4, 4)
  line L99 (-366.4, 4) -> (-366.4, 0)
  line L100 (-366.4, 0) -> (-370, 0)
  line L101 (-370, 0) -> (-370, 4)
  line L102 (-70, 0) -> (-73.6, 0)
  line L103 (-73.6, 0) -> (-73.6, 4)
  line L104 (-73.6, 4) -> (-70, 4)
  line L105 (-70, 4) -> (-70, 0)
  line L106 (-73.6, -103.2) -> (-73.6, -99.2)
  line L107 (-73.6, -99.2) -> (-70, -99.2)
  line L108 (-70, -99.2) -> (-70, -103.2)
  line L109 (-70, -103.2) -> (-73.6, -103.2)
  line L110 (29, -103.2) -> (29, -258.2)
  line L111 (29, -233.2) -> (25, -233.2)
  line L112 (25, -233.2) -> (25, -193.5)
  line L113 (25, -193.5) -> (29, -193.5)
  line L114 (29, -193.5) -> (29, -233.2)
  line L115 (29, -128.5) -> (25, -128.5)
  line L116 (25, -128.5) -> (25, -168.2)
  line L117 (25, -168.2) -> (29, -168.2)
  line L118 (29, -168.2) -> (29, -128.5)
  line L119 (-101, -136.2372) -> (-97, -136.2372)
  line L120 (-97, -136.2372) -> (-97, -175.9372)
  line L121 (-97, -175.9372) -> (-101, -175.9372)
  line L122 (-101, -175.9372) -> (-101, -136.2372)
  line L123 (-101, -258.2) -> (-101, -128.2)
  line L124 (-101, -201.139) -> (-97, -201.139)
  line L125 (-97, -201.139) -> (-97, -240.839)
  line L126 (-97, -240.839) -> (-101, -240.839)
  line L127 (-101, -240.839) -> (-101, -201.139)
  line L128 (-16.15, -254.2) -> (-55.85, -254.2)
  line L129 (-55.85, -254.2) -> (-55.85, -258.2)
  line L130 (-55.85, -258.2) -> (-16.15, -258.2)
  line L131 (-16.15, -258.2) -> (-16.15, -254.2)
  point P0 (0, 0)
  point P1 (-36, -258.2)
  dimension "d35" = 4
  dimension "d36" = 39.7
  dimension "d37" = 25
  dimension "d38" = 4
  dimension "d39" = 39.7
  dimension "d51" = 4
  dimension "d52" = 39.7
  dimension "d53" = 4
  dimension "d54" = 39.7
  dimension "d55" = 39.7
  dimension "d56" = 4
extrude "Extrusion6" cut sketch "Sketch8" against normal blind 4 contours L111 L112 L113 L6 | L117 L116 L115 L6
extrude "Extrusion7" cut sketch "Sketch8" against normal blind 4 contours L119 L120 L121 L4 | L124 L125 L126 L4 | L129 L128 L131 L5
sketch "Sketch10" plane through (0, 0, 0) normal (0, 0, -1) x (-1, 0, 0)
  circle A0 centre (-414, -78.2) radius 15
  line L0 (-409.3, -128.2) -> (-309.6667, -128.2)
  line L1 (-469, -103.2) -> (-469, -128.2)
  circle A1 centre (-26, -71) radius 15
  line L2 (-30.7, 29) -> (-130.6333, 29)
  line L3 (29, -63.5) -> (29, -35.7)
  point P0 (0, 0)
  dimension "d59" = 30
  dimension "d60" = 50
  dimension "d61" = 55
  dimension "d62" = 30
  dimension "d63" = 100
  dimension "d64" = 55
extrude "Extrusion8" cut sketch "Sketch10" against normal blind 4
sketch "Sketch11" plane through (0, 0, 0) normal (0, 0, -1) x (-1, 0, 0)
  line L0 (-12, -138.3) -> (-2, -138.3)
  line L1 (-57, -248.3) -> (-67, -248.3)
  line L2 (-67, -244.3) -> (-57, -244.3)
  line L3 (-2, -248.3) -> (-12, -248.3)
  line L4 (-12, -244.3) -> (-2, -244.3)
  line L5 (-12, -248.3) -> (-12, -244.3)
  line L6 (-2, -248.3) -> (-2, -244.3)
  line L7 (-57, -248.3) -> (-57, -244.3)
  line L8 (-67, -248.3) -> (-67, -244.3)
  line L9 (-57, -142.3) -> (-67, -142.3)
  line L10 (-67, -138.3) -> (-57, -138.3)
  line L11 (-67, -138.3) -> (-67, -142.3)
  line L12 (-57, -138.3) -> (-57, -142.3)
  line L13 (-2, -142.3) -> (-12, -142.3)
  line L14 (-12, -138.3) -> (-12, -142.3)
  line L15 (-2, -138.3) -> (-2, -142.3)
  line L16 (-81, -248.3) -> (12, -248.3)
  line L17 (12, -248.3) -> (12, -138.3)
  line L18 (12, -138.3) -> (-81, -138.3)
  line L19 (-81, -138.3) -> (-81, -248.3)
  line L20 (-101, -240.839) -> (-101, -258.2)
  line L21 (-101, -258.2) -> (25, -258.2)
  line L22 (25, -258.2) -> (25, -128.5)
  line L23 (25, -128.5) -> (-101, -128.5)
  line L24 (-101, -128.5) -> (-101, -258.2)
  line L25 (29, -35.7) -> (29, -63.5)
  point P0 (0, 0)
  point P1 (-38, -193.3)
  point P2 (29, -193.3)
extrude "Extrusion9" cut sketch "Sketch11" against normal blind 10 contours L0 L15 L13 L14 | L12 L9 L11 L10 | L3 L5 L4 L6 | L8 L2 L7 L1
equation "\"d3\" = D"
equation "\"d5\" = D"
equation "\"d7\" = D"
equation "\"d8\" = D"
equation "\"d18\" = D"
equation "\"d20\" = D"
equation "\"d36\" = D"
equation "\"d39\" = D"
equation "\"d52\" = D"
equation "\"d54\" = D"
equation "\"d55\" = D"
equation "\"D\" = 39.7"
properties part number "FLOOR-02"
